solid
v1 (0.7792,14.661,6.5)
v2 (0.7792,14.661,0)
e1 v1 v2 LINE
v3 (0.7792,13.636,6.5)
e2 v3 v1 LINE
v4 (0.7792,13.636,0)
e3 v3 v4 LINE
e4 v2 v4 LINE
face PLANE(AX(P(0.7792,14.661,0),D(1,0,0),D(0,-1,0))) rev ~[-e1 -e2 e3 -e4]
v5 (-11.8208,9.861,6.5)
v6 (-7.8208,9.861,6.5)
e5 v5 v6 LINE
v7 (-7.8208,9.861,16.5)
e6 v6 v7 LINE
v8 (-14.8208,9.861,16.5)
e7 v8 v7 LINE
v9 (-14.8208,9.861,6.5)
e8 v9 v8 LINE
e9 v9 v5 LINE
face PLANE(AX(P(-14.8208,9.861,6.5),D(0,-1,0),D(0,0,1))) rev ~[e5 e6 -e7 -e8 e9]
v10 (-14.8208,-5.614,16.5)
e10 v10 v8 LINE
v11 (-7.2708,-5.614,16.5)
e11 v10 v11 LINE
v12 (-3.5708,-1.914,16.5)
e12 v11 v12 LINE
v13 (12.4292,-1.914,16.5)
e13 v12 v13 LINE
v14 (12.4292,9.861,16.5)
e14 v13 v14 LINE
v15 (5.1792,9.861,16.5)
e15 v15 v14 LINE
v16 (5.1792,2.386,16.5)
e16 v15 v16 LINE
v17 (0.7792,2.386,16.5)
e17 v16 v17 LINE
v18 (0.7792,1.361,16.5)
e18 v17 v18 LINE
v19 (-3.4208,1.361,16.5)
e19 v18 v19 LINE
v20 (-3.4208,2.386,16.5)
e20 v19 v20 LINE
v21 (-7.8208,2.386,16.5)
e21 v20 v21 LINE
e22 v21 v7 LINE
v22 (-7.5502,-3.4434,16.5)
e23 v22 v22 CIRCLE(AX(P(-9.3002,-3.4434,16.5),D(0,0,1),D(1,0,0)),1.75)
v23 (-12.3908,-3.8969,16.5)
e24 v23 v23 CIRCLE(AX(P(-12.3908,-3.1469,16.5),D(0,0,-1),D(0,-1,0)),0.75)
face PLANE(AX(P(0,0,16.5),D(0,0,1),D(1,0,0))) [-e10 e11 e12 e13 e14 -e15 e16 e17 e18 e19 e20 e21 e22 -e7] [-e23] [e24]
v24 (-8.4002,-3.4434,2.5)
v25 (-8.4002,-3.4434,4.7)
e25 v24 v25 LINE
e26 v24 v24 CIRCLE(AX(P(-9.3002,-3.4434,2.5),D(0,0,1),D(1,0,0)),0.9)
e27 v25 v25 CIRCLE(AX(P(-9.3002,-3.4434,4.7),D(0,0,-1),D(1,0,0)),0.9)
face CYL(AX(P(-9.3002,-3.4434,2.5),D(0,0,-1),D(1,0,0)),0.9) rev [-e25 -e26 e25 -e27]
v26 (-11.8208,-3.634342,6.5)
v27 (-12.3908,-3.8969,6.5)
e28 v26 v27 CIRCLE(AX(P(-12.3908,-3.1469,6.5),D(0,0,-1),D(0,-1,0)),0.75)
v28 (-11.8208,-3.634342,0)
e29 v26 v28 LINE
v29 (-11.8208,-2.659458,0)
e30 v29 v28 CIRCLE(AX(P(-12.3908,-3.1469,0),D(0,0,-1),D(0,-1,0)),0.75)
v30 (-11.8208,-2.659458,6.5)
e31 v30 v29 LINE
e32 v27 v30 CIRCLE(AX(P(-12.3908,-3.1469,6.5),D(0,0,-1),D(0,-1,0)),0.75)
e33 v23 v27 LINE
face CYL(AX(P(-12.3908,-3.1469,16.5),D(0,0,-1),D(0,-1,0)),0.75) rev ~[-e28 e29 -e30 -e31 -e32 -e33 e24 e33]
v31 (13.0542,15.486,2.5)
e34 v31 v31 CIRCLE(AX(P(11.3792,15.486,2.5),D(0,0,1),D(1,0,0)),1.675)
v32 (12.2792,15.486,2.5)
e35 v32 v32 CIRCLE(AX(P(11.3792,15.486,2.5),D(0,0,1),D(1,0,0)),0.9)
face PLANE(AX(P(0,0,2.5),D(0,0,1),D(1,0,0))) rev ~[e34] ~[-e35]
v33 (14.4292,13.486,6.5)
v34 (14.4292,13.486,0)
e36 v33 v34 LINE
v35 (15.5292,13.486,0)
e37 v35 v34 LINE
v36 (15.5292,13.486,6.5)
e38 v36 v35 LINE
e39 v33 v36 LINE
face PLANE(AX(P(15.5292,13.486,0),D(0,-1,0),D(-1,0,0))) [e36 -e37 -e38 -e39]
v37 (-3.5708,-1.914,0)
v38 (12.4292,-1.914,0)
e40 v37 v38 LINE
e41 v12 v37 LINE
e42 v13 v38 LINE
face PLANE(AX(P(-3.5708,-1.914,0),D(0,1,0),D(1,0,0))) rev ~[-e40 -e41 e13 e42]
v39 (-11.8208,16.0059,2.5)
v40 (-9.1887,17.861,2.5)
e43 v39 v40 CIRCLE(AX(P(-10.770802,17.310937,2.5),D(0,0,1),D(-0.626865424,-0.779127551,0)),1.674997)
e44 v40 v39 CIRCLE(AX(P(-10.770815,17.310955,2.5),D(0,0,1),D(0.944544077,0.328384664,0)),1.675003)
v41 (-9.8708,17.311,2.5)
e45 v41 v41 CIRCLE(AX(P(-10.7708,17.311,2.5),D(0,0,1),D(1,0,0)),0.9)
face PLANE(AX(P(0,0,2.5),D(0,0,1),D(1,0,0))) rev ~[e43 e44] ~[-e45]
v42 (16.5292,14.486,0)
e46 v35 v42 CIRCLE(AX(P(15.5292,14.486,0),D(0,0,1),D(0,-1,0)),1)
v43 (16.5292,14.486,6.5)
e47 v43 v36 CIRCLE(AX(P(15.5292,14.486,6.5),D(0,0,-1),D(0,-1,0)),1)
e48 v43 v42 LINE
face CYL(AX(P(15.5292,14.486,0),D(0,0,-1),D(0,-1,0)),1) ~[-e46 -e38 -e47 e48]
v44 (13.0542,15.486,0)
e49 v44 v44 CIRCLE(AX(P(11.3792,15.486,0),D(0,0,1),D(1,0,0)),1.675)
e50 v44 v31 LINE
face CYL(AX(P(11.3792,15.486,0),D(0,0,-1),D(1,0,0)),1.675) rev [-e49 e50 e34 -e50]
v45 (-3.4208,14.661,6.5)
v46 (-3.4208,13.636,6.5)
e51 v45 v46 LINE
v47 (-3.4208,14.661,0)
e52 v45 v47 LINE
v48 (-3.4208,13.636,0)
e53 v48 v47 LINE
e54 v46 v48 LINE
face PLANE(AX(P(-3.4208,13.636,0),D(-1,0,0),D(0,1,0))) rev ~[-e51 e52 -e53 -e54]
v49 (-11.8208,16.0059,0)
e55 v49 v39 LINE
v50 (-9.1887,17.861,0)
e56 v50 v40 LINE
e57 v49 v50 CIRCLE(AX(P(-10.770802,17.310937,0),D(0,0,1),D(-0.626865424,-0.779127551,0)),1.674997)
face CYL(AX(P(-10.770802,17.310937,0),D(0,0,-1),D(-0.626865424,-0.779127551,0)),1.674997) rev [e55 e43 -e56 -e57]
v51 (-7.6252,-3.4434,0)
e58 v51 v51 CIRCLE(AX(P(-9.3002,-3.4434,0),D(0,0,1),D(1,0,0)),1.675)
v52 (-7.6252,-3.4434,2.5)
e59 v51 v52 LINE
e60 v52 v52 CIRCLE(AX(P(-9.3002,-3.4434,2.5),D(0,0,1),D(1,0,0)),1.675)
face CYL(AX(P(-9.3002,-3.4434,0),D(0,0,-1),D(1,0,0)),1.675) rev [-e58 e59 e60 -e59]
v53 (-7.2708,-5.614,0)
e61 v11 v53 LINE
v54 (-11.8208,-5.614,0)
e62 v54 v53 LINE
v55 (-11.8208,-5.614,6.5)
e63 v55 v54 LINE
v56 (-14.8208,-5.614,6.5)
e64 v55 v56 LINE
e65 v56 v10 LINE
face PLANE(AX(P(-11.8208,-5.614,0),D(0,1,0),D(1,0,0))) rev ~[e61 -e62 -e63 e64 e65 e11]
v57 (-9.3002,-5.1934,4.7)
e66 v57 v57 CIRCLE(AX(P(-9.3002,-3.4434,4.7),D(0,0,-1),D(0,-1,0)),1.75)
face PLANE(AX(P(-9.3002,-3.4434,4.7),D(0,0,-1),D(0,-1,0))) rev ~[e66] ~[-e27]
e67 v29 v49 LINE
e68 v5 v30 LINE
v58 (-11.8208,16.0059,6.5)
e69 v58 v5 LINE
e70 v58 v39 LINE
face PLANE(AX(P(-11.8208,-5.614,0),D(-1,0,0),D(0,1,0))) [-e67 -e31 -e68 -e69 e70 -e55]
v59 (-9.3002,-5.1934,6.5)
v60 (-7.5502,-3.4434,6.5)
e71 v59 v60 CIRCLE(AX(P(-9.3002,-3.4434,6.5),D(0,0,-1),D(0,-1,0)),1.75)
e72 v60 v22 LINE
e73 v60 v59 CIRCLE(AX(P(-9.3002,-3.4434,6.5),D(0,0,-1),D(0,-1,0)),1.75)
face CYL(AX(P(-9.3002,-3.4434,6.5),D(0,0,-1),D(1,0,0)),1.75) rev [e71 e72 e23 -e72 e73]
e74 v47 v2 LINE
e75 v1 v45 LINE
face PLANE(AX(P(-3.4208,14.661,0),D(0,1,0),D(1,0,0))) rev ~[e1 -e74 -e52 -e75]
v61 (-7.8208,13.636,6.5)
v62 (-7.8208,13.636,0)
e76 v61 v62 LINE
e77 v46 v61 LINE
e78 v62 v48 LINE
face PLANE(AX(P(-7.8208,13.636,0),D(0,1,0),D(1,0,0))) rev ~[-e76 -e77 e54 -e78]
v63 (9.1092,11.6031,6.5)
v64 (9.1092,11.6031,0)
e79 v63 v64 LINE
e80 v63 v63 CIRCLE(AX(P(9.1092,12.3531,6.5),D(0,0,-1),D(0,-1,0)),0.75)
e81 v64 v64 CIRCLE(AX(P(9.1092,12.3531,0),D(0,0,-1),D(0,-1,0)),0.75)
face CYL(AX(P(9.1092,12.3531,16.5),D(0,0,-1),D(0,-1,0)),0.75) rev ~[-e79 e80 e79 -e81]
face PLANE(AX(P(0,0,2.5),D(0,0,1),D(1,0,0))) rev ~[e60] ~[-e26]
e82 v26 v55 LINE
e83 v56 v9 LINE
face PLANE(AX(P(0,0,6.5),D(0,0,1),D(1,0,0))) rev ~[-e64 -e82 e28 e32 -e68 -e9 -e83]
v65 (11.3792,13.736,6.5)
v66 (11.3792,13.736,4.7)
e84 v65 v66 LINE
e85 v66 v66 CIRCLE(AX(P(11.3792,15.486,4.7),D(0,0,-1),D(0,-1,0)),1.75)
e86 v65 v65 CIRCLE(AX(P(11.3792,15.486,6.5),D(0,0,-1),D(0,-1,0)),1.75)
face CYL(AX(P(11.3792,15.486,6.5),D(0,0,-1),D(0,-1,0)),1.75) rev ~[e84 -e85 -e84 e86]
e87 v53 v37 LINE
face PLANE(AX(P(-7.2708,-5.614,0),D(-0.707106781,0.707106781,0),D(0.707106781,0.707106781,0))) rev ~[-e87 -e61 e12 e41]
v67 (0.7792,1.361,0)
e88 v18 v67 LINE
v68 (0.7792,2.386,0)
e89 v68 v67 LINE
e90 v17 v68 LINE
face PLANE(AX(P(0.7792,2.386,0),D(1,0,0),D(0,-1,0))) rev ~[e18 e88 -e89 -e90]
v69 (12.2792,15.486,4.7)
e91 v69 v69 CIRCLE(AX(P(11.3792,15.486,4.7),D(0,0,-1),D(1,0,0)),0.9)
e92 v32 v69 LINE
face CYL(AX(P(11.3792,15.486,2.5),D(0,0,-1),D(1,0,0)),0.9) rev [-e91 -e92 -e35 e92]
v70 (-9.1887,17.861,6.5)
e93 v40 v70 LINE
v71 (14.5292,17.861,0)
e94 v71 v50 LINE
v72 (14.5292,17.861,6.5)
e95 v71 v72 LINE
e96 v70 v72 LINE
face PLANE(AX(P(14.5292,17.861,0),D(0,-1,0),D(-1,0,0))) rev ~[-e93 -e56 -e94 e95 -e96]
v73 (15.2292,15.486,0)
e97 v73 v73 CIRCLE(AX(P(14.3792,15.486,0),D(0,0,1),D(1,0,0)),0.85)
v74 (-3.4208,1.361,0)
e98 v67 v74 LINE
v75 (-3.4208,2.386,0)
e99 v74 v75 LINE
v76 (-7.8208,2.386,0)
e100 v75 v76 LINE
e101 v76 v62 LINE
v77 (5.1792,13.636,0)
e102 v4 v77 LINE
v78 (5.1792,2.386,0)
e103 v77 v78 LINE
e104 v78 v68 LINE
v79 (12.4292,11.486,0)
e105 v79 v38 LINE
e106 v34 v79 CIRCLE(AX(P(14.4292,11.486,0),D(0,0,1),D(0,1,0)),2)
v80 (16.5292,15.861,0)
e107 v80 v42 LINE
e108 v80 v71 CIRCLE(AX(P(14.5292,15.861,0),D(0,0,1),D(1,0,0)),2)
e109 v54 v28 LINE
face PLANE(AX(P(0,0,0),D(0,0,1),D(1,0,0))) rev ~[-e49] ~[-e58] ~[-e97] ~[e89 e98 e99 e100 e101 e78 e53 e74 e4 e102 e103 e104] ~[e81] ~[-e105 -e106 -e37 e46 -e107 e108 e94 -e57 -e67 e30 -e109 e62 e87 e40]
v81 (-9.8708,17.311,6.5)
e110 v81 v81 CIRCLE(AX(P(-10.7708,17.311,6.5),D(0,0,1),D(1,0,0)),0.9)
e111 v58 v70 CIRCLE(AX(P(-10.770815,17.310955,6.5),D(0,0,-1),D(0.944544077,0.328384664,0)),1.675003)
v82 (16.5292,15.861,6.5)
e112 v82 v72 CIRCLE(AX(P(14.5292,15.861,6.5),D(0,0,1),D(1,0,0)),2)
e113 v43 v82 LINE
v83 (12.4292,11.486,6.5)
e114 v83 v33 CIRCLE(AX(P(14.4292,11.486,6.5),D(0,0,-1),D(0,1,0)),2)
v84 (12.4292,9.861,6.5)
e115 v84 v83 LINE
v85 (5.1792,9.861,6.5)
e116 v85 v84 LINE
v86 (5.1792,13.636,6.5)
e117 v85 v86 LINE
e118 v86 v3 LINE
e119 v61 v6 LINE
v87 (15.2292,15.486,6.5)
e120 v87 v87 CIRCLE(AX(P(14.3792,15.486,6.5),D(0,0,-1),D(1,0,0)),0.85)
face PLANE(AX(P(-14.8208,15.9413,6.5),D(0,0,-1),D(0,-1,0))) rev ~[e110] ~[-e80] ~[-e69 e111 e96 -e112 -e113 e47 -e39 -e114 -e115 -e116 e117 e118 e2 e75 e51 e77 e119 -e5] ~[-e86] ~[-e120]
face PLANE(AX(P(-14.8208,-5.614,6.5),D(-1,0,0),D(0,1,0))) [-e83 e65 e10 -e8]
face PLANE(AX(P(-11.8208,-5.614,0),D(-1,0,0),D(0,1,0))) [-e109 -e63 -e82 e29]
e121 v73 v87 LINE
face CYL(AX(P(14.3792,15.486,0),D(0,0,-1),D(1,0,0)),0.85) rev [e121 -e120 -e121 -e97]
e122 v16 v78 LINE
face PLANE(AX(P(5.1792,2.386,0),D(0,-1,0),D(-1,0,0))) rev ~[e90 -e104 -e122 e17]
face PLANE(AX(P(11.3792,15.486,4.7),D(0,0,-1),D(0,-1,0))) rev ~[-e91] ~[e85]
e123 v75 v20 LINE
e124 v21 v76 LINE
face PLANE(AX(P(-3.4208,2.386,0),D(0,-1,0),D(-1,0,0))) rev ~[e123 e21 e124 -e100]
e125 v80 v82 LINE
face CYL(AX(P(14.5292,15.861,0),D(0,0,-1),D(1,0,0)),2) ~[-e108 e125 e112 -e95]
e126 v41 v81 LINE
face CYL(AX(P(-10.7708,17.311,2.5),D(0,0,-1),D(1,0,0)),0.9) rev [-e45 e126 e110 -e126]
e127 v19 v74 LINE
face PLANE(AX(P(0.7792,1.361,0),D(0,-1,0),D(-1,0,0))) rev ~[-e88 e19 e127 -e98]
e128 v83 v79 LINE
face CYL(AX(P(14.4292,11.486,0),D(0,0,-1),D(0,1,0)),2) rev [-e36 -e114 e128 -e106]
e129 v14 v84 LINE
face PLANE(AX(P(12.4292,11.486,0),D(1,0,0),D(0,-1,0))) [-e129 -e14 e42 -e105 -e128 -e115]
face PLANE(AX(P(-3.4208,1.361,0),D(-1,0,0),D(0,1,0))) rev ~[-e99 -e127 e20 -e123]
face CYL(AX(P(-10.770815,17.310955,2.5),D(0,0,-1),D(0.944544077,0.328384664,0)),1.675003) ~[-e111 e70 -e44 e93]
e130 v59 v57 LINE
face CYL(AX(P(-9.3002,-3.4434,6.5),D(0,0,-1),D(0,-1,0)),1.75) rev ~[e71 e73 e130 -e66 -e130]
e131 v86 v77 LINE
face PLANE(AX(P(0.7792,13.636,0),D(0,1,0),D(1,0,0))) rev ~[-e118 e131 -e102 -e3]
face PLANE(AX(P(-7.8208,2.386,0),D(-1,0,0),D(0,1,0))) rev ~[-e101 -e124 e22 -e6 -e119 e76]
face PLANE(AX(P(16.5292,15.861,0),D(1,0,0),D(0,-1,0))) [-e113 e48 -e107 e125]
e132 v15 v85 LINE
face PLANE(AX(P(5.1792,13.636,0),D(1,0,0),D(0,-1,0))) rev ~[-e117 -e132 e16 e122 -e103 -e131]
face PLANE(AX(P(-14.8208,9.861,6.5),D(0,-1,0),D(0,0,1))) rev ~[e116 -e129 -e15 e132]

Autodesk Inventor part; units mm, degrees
ref_plane "YZ Plane" through (0, 0, 0) normal (1, 0, 0) x (0, 1, 0)
ref_plane "XZ Plane" through (0, 0, 0) normal (0, 1, 0) x (-1, 0, 0)
sketch "Skizze1" plane through (0, 0, 0) normal (0, 0, 1) x (1, 0, 0)
  line L0 (14.1792, -15.989) -> (14.1792, 19.011)
  line L1 (14.1792, 19.011) -> (-11.8208, 19.011)
  line L2 (-11.8208, 19.011) -> (-11.8208, -15.989)
  line L3 (-11.8208, -15.989) -> (14.1792, -15.989)
  line L4 (14.1792, -15.989) -> (-11.8208, 19.011) construction
  line L5 (14.1792, 19.011) -> (-11.8208, -15.989) construction
  line L6 (3.4292, 11.636) -> (-6.0708, 11.636) construction
  line L7 (3.4292, 4.386) -> (3.4292, 11.636) construction
  line L8 (-6.0708, 3.091) -> (3.4292, 3.091) construction
  line L9 (-6.0708, 11.636) -> (-6.0708, 4.386) construction
  line L10 (3.4292, 11.636) -> (-6.0708, 4.386) construction
  line L11 (3.4292, 4.386) -> (-6.0708, 11.636) construction
  point P0 (0, 0)
  point P1 (1.1792, 1.511)
  point P2 (1.1792, 1.511)
  point P3 (-1.3208, 8.011)
  point P4 (-1.3208, 8.011)
  point P5 (1.1792, 1.511)
  point P6 (-1.3208, 8.011)
  dimension "d0" = 26
  dimension "d1" = 35
  dimension "d2" = 11
  dimension "d3" = 2.5
sketch "Skizze2" plane through (0, 0, 0) normal (0, 0, 1) x (1, 0, 0)
  line L0 (-3.4208, 2.386) -> (-7.8208, 2.386) projected
  line L1 (-7.8208, 2.386) -> (-7.8208, 13.636) projected
  line L2 (-7.8208, 13.636) -> (-3.4208, 13.636) projected
  line L3 (5.1792, 2.386) -> (0.7792, 2.386) projected
  line L4 (5.1792, 13.636) -> (5.1792, 2.386) projected
  line L5 (0.7792, 13.636) -> (5.1792, 13.636) projected
  circle A0 centre (-9.3002, -3.4434) radius 1.575 construction
  circle A1 centre (11.3792, 15.486) radius 1.575 construction
  circle A2 centre (-9.3002, -3.4434) radius 0.7 construction
  circle A3 centre (-10.7708, 17.311) radius 0.7 construction
  circle A4 centre (11.3792, 15.486) radius 0.7 construction
  line L6 (-3.4208, 13.636) -> (-3.4208, 14.661) projected
  line L7 (-3.4208, 14.661) -> (0.7792, 14.661) projected
  line L8 (0.7792, 1.361) -> (-3.4208, 1.361) projected
  line L9 (-3.4208, 1.361) -> (-3.4208, 2.386) projected
  line L10 (0.7792, 2.386) -> (0.7792, 1.361) projected
  line L11 (0.7792, 14.661) -> (0.7792, 13.636) projected
  line L12 (-12.2708, -7.964) -> (-12.2708, 12.036) construction
  line L13 (14.5292, 17.861) -> (-9.295, 17.861) construction
  arc A5 (16.5292, 15.861) -> (14.5292, 17.861) centre (14.5292, 15.861) ccw projected
  line L14 (16.5292, 15.861) -> (16.5292, 14.486) projected
  arc A6 (15.5292, 13.486) -> (16.5292, 14.486) centre (15.5292, 14.486) ccw projected
  line L15 (15.5292, 13.486) -> (14.4292, 13.486) projected
  arc A7 (14.4292, 13.486) -> (12.4292, 11.486) centre (14.4292, 11.486) ccw projected
  line L16 (12.4292, 11.486) -> (12.4292, -1.914) projected
  line L17 (-3.5708, -1.914) -> (12.4292, -1.914) projected
  line L18 (-8.1002, -6.4434) -> (-3.5708, -1.914) projected
  arc A8 (-10.7708, 18.886) -> (-9.295, 17.861) centre (-10.7708, 17.311) ccw construction
  line L19 (-8.1002, -7.4434) -> (-8.1002, -6.4434) construction
  circle A9 centre (-9.3002, -7.4434) radius 0.75 construction
  circle A10 centre (-9.3002, -7.4434) radius 1.2 construction
  line L20 (-10.8208, -6.614) -> (-11.8208, -5.614) construction
  line L21 (-11.8208, -5.614) -> (-11.8208, 16.0059)
  line L22 (-11.8208, -5.614) -> (-10.4976, -6.9373)
  arc A11 (-8.1002, -6.9434) -> (-8.2864, -6.6296) centre (-9.3002, -7.4434) ccw construction
  line L23 (-8.1002, -6.9434) -> (-8.1002, -6.4434) construction
  circle A12 centre (-9.3002, -3.4434) radius 1.675
  circle A13 centre (11.3792, 15.486) radius 1.675
  line L24 (14.5292, 17.861) -> (-9.1887, 17.861)
  arc A14 (-11.8208, 16.0059) -> (-9.1887, 17.861) centre (-10.7708, 17.311) ccw
  circle A15 centre (14.3792, 15.486) radius 0.75 construction
  circle A16 centre (14.3792, 15.486) radius 0.85
  line L25 (-8.1002, -6.4434) -> (-8.2864, -6.6296) construction
  arc A17 (-8.2864, -6.6296) -> (-10.4976, -6.9373) centre (-9.3002, -7.4434) ccw construction
  line L26 (-11.8208, -5.614) -> (-7.2708, -5.614)
  point P0 (0, 0)
  dimension "d4" = 0.1
  dimension "d5" = 0.1
  dimension "d6" = 0.1
  dimension "d7" = 0.1
  dimension "d10" = 0.1
extrude "Extrusion1" add sketch "Skizze2" along normal blind 2.5
sketch "Skizze3" plane through (0, 0, 2.5) normal (0, 0, 1) x (1, 0, 0)
  circle A0 centre (11.3792, 15.486) radius 1.675 construction
  circle A1 centre (-9.3002, -3.4434) radius 1.675 construction
  circle A2 centre (14.3792, 15.486) radius 0.85 projected
  arc A3 (16.5292, 15.861) -> (14.5292, 17.861) centre (14.5292, 15.861) ccw projected
  line L0 (14.5292, 17.861) -> (-9.1887, 17.861) projected
  arc A4 (-11.8208, 16.0059) -> (-9.1887, 17.861) centre (-10.7708, 17.311) ccw construction
  line L1 (-11.8208, 16.0059) -> (-11.8208, -5.614) projected
  line L2 (-7.2708, -5.614) -> (-3.5708, -1.914) projected
  line L3 (-3.5708, -1.914) -> (12.4292, -1.914) projected
  line L4 (12.4292, -1.914) -> (12.4292, 11.486) projected
  arc A5 (14.4292, 13.486) -> (12.4292, 11.486) centre (14.4292, 11.486) ccw projected
  line L5 (14.4292, 13.486) -> (15.5292, 13.486) projected
  arc A6 (15.5292, 13.486) -> (16.5292, 14.486) centre (15.5292, 14.486) ccw projected
  line L6 (16.5292, 14.486) -> (16.5292, 15.861) projected
  circle A7 centre (11.3792, 15.486) radius 0.7 construction
  circle A8 centre (-9.3002, -3.4434) radius 0.7 construction
  circle A9 centre (-9.3002, -7.4434) radius 0.75 construction
  circle A10 centre (-9.3002, -7.4434) radius 0.85
  line L7 (-7.2708, -5.614) -> (-3.5708, -1.914) projected
  arc A11 (-10.3338, -7.0065) -> (-8.2864, -7.9246) centre (-9.3002, -7.4434) ccw
  arc A12 (-9.1887, 17.861) -> (-11.8208, 16.0059) centre (-10.7708, 17.311) ccw
  circle A13 centre (-10.7708, 17.311) radius 0.7 construction
  circle A14 centre (-10.7708, 17.311) radius 0.9
  circle A15 centre (11.3792, 15.486) radius 0.9
  circle A16 centre (-9.3002, -3.4434) radius 0.9
  line L8 (-11.8208, -5.614) -> (-7.2708, -5.614) projected
  line L9 (-7.8208, 2.386) -> (-7.8208, 13.636) projected
  line L10 (-7.8208, 13.636) -> (-3.4208, 13.636) projected
  line L11 (-3.4208, 13.636) -> (-3.4208, 14.661) projected
  line L12 (-3.4208, 14.661) -> (0.7792, 14.661) projected
  line L13 (0.7792, 14.661) -> (0.7792, 13.636) projected
  line L14 (0.7792, 13.636) -> (5.1792, 13.636) projected
  line L15 (5.1792, 13.636) -> (5.1792, 2.386) projected
  line L16 (5.1792, 2.386) -> (0.7792, 2.386) projected
  line L17 (0.7792, 2.386) -> (0.7792, 1.361) projected
  line L18 (0.7792, 1.361) -> (-3.4208, 1.361) projected
  line L19 (-3.4208, 1.361) -> (-3.4208, 2.386) projected
  line L20 (-3.4208, 2.386) -> (-7.8208, 2.386) projected
  circle A17 centre (11.3792, 15.486) radius 1.675 projected
  circle A18 centre (-9.3002, -3.4434) radius 1.675 projected
  circle A19 centre (14.3792, 15.486) radius 0.85 projected
  arc A20 (16.5292, 15.861) -> (14.5292, 17.861) centre (14.5292, 15.861) ccw projected
  line L21 (14.5292, 17.861) -> (-9.1887, 17.861) projected
  arc A21 (-11.8208, 16.0059) -> (-9.1887, 17.861) centre (-10.7708, 17.311) ccw projected
  line L22 (-11.8208, 16.0059) -> (-11.8208, -5.614) projected
  line L23 (-11.8208, -5.614) -> (-7.2708, -5.614) projected
  line L24 (-7.2708, -5.614) -> (-3.5708, -1.914) projected
  line L25 (-3.5708, -1.914) -> (12.4292, -1.914) projected
  line L26 (12.4292, -1.914) -> (12.4292, 11.486) projected
  arc A22 (14.4292, 13.486) -> (12.4292, 11.486) centre (14.4292, 11.486) ccw projected
  line L27 (14.4292, 13.486) -> (15.5292, 13.486) projected
  arc A23 (15.5292, 13.486) -> (16.5292, 14.486) centre (15.5292, 14.486) ccw projected
  line L28 (16.5292, 14.486) -> (16.5292, 15.861) projected
  point P0 (0, 0)
  dimension "d11" = 0.1
  dimension "d13" = 1.8
  dimension "d14" = 1.8
  dimension "d15" = 1.8
ref_plane "Arbeitsebene1" through (-9.7716, -9.2098, 6) normal (0, 0, 1) x (1, 0, 0)
extrude "Extrusion2" add sketch "Skizze3" along normal blind 4 contours L6 A6 L5 A5 L4 L3 L2 L8 L1 A21 L0 A3 | A21 A12 | A17 | A18
sketch "Skizze4" plane through (-9.1887, 16.566, 6.5) normal (0, 0, 1) x (1, 0, 0)
  circle A0 centre (-0.1115, -20.0094) radius 0.7 construction
  circle A1 centre (-1.5821, 0.745) radius 0.7 construction
  circle A2 centre (20.5679, -1.08) radius 0.7 construction
  point P0 (9.1887, -16.566)
hole "Bohrung1" at (-9.3002, -3.4434, 6.5) at (11.3792, 15.486, 6.5) direction (0, 0, -1) diameter 1.8 end through all counterbore diameter 3.5 counterbore depth 1.8 clearance for "Inbusschraube ISO 4762" size "M1.6" standard "ISO"
sketch "Sketch12" plane through (0, 0, 6.5) normal (0, 0, 1) x (1, 0, 0)
  circle A0 centre (-9.3002, -3.4434) radius 1.75 projected
  circle A1 centre (11.3792, 15.486) radius 1.75 projected
  line L0 (-7.8208, 13.636) -> (-3.4208, 13.636) projected
  line L1 (-3.4208, 13.636) -> (-3.4208, 14.661) projected
  line L2 (-3.4208, 14.661) -> (0.7792, 14.661) projected
  line L3 (0.7792, 14.661) -> (0.7792, 13.636) projected
  line L4 (0.7792, 13.636) -> (5.1792, 13.636) projected
  line L5 (5.1792, 13.636) -> (5.1792, 2.386) projected
  line L6 (5.1792, 2.386) -> (0.7792, 2.386) projected
  line L7 (0.7792, 2.386) -> (0.7792, 1.361) projected
  line L8 (0.7792, 1.361) -> (-3.4208, 1.361) projected
  line L9 (-3.4208, 1.361) -> (-3.4208, 2.386) projected
  line L10 (-3.4208, 2.386) -> (-7.8208, 2.386) projected
  line L11 (-7.8208, 2.386) -> (-7.8208, 13.636) projected
  circle A2 centre (14.3792, 15.486) radius 0.85 projected
  circle A3 centre (-10.7708, 17.311) radius 0.9 projected
  arc A4 (16.5292, 15.861) -> (14.5292, 17.861) centre (14.5292, 15.861) ccw projected
  line L12 (14.5292, 17.861) -> (-9.1887, 17.861) projected
  arc A5 (-9.1887, 17.861) -> (-11.8208, 16.0059) centre (-10.7708, 17.311) ccw projected
  line L13 (-11.8208, 16.0059) -> (-11.8208, -5.614) projected
  line L14 (-11.8208, -5.614) -> (-7.2708, -5.614) projected
  line L15 (-7.2708, -5.614) -> (-3.5708, -1.914) projected
  line L16 (-3.5708, -1.914) -> (12.4292, -1.914) projected
  line L17 (12.4292, -1.914) -> (12.4292, 11.486) projected
  arc A6 (14.4292, 13.486) -> (12.4292, 11.486) centre (14.4292, 11.486) ccw projected
  line L18 (14.4292, 13.486) -> (15.5292, 13.486) projected
  arc A7 (15.5292, 13.486) -> (16.5292, 14.486) centre (15.5292, 14.486) ccw projected
  line L19 (16.5292, 14.486) -> (16.5292, 15.861) projected
  line L20 (6.6092, 13.3531) -> (-8.8908, 13.3531) construction
  line L21 (-8.8908, 13.3531) -> (-8.8908, -0.1469) construction
  line L22 (-8.8908, -0.1469) -> (6.6092, -0.1469) construction
  line L23 (6.6092, -0.1469) -> (6.6092, 13.3531) construction
  circle A8 centre (-18.8908, 17.3531) radius 1 construction
  circle A9 centre (-12.3908, -3.1469) radius 1 construction
  circle A10 centre (9.1092, 12.3531) radius 1 construction
  arc A11 (-16.7463, 18.6788) -> (-17.7463, 19.6788) centre (-17.7463, 18.6788) ccw construction
  line L24 (-16.7463, 18.6788) -> (-16.7463, 15.9412) construction
  arc A12 (-16.7463, 15.9412) -> (-15.7463, 14.9412) centre (-15.7463, 15.9412) ccw construction
  line L25 (-15.7463, 14.9412) -> (10.3438, 14.9412) construction
  arc A13 (11.3438, 13.9412) -> (10.3438, 14.9412) centre (10.3438, 13.9412) ccw construction
  line L26 (11.3438, 13.9412) -> (11.3438, 11.3759) construction
  arc A14 (10.3438, 10.3759) -> (11.3438, 11.3759) centre (10.3438, 11.3759) ccw construction
  line L27 (10.3438, 10.3759) -> (10.1092, 10.3759) construction
  arc A15 (10.1092, 10.3759) -> (9.1092, 9.3759) centre (10.1092, 9.3759) ccw construction
  line L28 (9.1092, 9.3759) -> (9.1092, -2.1588) construction
  line L29 (9.1092, -2.1588) -> (-9.3631, -2.1588) construction
  arc A16 (-9.3631, -2.1588) -> (-10.3631, -3.1588) centre (-9.3631, -3.1588) ccw construction
  line L30 (-10.3631, -3.1588) -> (-10.3631, -5.0212) construction
  arc A17 (-11.3631, -6.0212) -> (-10.3631, -5.0212) centre (-11.3631, -5.0212) ccw construction
  line L31 (-11.3631, -6.0212) -> (-21.6562, -6.0212) construction
  line L32 (-21.6562, -6.0212) -> (-21.6562, 19.6788) construction
  line L33 (-21.6562, 19.6788) -> (-17.7463, 19.6788) construction
  line L34 (-7.2708, -5.614) -> (-11.8208, -5.614) construction
  line L35 (-11.8208, -5.614) -> (-14.8208, -5.614) construction
  line L36 (-14.8208, -5.614) -> (-14.8208, 15.9412) construction
  line L37 (-14.8208, 15.9412) -> (-11.8208, 15.9412) construction
  line L38 (-11.8208, 15.9412) -> (-11.8208, -5.614) construction
  line L39 (-11.8208, -5.614) -> (-14.8208, -5.614)
  line L40 (-14.8208, -5.614) -> (-14.8208, 15.9412)
  line L41 (-14.8208, 15.9412) -> (-11.8208, 15.9412)
  line L42 (-11.8208, 15.9412) -> (-11.8208, -5.614)
  point P0 (0, 0)
  dimension "d49" = 3
extrude "Extrusion9" add sketch "Sketch12" along normal blind 10
sketch "Sketch13" plane through (0, 0, 16.5) normal (0, 0, 1) x (1, 0, 0)
  line L0 (-5.5708, 25.836) -> (-16.7708, 25.836) construction
  arc A0 (-16.7463, 18.6788) -> (-17.7463, 19.6788) centre (-17.7463, 18.6788) ccw construction
  line L1 (-17.7463, 19.6788) -> (-21.6562, 19.6788) construction
  line L2 (-21.6562, 19.6788) -> (-21.6562, -6.0212) construction
  line L3 (-21.6562, -6.0212) -> (-11.3631, -6.0212) construction
  arc A1 (-11.3631, -6.0212) -> (-10.3631, -5.0212) centre (-11.3631, -5.0212) ccw construction
  line L4 (-10.3631, -5.0212) -> (-10.3631, -3.1588) construction
  arc A2 (-9.3631, -2.1588) -> (-10.3631, -3.1588) centre (-9.3631, -3.1588) ccw construction
  line L5 (-9.3631, -2.1588) -> (9.1092, -2.1588) construction
  line L6 (9.1092, -2.1588) -> (9.1092, 9.3759) construction
  arc A3 (10.1092, 10.3759) -> (9.1092, 9.3759) centre (10.1092, 9.3759) ccw construction
  line L7 (10.1092, 10.3759) -> (10.3438, 10.3759) construction
  arc A4 (10.3438, 10.3759) -> (11.3438, 11.3759) centre (10.3438, 11.3759) ccw construction
  line L8 (11.3438, 11.3759) -> (11.3438, 13.9412) construction
  arc A5 (11.3438, 13.9412) -> (10.3438, 14.9412) centre (10.3438, 13.9412) ccw construction
  line L9 (10.3438, 14.9412) -> (-15.7463, 14.9412) construction
  arc A6 (-16.7463, 15.9412) -> (-15.7463, 14.9412) centre (-15.7463, 15.9412) ccw construction
  line L10 (-16.7463, 15.9412) -> (-16.7463, 18.6788) construction
  line L11 (-8.8908, 13.3531) -> (6.6092, 13.3531) construction
  line L12 (6.6092, 13.3531) -> (6.6092, -0.1469) construction
  line L13 (6.6092, -0.1469) -> (-8.8908, -0.1469) construction
  line L14 (-8.8908, -0.1469) -> (-8.8908, 13.3531) construction
  circle A7 centre (-18.8908, 17.3531) radius 1 construction
  circle A8 centre (-12.3908, -3.1469) radius 1 construction
  circle A9 centre (9.1092, 12.3531) radius 1 construction
  point P0 (0, 0)
hole "Hole2" at (-12.3908, -3.1469, 16.5) at (9.1092, 12.3531, 16.5) direction (0, 0, -1) diameter 1.5 end through all
sketch "Sketch14" plane through (-14.8208, -5.614, 6.5) normal (-1, 0, 0) x (0, 0, 1)
  line L0 (0, 21.5553) -> (0, 2.9546) projected
  line L1 (19.819, 28.4609) -> (0, 28.4609)
  line L2 (0, 28.4609) -> (0, 15.475)
  line L3 (0, 15.475) -> (19.819, 15.475)
  line L4 (19.819, 15.475) -> (19.819, 28.4609)
  point P0 (-6.5, 5.614)
extrude "Extrusion10" cut sketch "Sketch14" against normal through all
properties part number "00_Adapter_Lens_PCB_XY_Translator"
